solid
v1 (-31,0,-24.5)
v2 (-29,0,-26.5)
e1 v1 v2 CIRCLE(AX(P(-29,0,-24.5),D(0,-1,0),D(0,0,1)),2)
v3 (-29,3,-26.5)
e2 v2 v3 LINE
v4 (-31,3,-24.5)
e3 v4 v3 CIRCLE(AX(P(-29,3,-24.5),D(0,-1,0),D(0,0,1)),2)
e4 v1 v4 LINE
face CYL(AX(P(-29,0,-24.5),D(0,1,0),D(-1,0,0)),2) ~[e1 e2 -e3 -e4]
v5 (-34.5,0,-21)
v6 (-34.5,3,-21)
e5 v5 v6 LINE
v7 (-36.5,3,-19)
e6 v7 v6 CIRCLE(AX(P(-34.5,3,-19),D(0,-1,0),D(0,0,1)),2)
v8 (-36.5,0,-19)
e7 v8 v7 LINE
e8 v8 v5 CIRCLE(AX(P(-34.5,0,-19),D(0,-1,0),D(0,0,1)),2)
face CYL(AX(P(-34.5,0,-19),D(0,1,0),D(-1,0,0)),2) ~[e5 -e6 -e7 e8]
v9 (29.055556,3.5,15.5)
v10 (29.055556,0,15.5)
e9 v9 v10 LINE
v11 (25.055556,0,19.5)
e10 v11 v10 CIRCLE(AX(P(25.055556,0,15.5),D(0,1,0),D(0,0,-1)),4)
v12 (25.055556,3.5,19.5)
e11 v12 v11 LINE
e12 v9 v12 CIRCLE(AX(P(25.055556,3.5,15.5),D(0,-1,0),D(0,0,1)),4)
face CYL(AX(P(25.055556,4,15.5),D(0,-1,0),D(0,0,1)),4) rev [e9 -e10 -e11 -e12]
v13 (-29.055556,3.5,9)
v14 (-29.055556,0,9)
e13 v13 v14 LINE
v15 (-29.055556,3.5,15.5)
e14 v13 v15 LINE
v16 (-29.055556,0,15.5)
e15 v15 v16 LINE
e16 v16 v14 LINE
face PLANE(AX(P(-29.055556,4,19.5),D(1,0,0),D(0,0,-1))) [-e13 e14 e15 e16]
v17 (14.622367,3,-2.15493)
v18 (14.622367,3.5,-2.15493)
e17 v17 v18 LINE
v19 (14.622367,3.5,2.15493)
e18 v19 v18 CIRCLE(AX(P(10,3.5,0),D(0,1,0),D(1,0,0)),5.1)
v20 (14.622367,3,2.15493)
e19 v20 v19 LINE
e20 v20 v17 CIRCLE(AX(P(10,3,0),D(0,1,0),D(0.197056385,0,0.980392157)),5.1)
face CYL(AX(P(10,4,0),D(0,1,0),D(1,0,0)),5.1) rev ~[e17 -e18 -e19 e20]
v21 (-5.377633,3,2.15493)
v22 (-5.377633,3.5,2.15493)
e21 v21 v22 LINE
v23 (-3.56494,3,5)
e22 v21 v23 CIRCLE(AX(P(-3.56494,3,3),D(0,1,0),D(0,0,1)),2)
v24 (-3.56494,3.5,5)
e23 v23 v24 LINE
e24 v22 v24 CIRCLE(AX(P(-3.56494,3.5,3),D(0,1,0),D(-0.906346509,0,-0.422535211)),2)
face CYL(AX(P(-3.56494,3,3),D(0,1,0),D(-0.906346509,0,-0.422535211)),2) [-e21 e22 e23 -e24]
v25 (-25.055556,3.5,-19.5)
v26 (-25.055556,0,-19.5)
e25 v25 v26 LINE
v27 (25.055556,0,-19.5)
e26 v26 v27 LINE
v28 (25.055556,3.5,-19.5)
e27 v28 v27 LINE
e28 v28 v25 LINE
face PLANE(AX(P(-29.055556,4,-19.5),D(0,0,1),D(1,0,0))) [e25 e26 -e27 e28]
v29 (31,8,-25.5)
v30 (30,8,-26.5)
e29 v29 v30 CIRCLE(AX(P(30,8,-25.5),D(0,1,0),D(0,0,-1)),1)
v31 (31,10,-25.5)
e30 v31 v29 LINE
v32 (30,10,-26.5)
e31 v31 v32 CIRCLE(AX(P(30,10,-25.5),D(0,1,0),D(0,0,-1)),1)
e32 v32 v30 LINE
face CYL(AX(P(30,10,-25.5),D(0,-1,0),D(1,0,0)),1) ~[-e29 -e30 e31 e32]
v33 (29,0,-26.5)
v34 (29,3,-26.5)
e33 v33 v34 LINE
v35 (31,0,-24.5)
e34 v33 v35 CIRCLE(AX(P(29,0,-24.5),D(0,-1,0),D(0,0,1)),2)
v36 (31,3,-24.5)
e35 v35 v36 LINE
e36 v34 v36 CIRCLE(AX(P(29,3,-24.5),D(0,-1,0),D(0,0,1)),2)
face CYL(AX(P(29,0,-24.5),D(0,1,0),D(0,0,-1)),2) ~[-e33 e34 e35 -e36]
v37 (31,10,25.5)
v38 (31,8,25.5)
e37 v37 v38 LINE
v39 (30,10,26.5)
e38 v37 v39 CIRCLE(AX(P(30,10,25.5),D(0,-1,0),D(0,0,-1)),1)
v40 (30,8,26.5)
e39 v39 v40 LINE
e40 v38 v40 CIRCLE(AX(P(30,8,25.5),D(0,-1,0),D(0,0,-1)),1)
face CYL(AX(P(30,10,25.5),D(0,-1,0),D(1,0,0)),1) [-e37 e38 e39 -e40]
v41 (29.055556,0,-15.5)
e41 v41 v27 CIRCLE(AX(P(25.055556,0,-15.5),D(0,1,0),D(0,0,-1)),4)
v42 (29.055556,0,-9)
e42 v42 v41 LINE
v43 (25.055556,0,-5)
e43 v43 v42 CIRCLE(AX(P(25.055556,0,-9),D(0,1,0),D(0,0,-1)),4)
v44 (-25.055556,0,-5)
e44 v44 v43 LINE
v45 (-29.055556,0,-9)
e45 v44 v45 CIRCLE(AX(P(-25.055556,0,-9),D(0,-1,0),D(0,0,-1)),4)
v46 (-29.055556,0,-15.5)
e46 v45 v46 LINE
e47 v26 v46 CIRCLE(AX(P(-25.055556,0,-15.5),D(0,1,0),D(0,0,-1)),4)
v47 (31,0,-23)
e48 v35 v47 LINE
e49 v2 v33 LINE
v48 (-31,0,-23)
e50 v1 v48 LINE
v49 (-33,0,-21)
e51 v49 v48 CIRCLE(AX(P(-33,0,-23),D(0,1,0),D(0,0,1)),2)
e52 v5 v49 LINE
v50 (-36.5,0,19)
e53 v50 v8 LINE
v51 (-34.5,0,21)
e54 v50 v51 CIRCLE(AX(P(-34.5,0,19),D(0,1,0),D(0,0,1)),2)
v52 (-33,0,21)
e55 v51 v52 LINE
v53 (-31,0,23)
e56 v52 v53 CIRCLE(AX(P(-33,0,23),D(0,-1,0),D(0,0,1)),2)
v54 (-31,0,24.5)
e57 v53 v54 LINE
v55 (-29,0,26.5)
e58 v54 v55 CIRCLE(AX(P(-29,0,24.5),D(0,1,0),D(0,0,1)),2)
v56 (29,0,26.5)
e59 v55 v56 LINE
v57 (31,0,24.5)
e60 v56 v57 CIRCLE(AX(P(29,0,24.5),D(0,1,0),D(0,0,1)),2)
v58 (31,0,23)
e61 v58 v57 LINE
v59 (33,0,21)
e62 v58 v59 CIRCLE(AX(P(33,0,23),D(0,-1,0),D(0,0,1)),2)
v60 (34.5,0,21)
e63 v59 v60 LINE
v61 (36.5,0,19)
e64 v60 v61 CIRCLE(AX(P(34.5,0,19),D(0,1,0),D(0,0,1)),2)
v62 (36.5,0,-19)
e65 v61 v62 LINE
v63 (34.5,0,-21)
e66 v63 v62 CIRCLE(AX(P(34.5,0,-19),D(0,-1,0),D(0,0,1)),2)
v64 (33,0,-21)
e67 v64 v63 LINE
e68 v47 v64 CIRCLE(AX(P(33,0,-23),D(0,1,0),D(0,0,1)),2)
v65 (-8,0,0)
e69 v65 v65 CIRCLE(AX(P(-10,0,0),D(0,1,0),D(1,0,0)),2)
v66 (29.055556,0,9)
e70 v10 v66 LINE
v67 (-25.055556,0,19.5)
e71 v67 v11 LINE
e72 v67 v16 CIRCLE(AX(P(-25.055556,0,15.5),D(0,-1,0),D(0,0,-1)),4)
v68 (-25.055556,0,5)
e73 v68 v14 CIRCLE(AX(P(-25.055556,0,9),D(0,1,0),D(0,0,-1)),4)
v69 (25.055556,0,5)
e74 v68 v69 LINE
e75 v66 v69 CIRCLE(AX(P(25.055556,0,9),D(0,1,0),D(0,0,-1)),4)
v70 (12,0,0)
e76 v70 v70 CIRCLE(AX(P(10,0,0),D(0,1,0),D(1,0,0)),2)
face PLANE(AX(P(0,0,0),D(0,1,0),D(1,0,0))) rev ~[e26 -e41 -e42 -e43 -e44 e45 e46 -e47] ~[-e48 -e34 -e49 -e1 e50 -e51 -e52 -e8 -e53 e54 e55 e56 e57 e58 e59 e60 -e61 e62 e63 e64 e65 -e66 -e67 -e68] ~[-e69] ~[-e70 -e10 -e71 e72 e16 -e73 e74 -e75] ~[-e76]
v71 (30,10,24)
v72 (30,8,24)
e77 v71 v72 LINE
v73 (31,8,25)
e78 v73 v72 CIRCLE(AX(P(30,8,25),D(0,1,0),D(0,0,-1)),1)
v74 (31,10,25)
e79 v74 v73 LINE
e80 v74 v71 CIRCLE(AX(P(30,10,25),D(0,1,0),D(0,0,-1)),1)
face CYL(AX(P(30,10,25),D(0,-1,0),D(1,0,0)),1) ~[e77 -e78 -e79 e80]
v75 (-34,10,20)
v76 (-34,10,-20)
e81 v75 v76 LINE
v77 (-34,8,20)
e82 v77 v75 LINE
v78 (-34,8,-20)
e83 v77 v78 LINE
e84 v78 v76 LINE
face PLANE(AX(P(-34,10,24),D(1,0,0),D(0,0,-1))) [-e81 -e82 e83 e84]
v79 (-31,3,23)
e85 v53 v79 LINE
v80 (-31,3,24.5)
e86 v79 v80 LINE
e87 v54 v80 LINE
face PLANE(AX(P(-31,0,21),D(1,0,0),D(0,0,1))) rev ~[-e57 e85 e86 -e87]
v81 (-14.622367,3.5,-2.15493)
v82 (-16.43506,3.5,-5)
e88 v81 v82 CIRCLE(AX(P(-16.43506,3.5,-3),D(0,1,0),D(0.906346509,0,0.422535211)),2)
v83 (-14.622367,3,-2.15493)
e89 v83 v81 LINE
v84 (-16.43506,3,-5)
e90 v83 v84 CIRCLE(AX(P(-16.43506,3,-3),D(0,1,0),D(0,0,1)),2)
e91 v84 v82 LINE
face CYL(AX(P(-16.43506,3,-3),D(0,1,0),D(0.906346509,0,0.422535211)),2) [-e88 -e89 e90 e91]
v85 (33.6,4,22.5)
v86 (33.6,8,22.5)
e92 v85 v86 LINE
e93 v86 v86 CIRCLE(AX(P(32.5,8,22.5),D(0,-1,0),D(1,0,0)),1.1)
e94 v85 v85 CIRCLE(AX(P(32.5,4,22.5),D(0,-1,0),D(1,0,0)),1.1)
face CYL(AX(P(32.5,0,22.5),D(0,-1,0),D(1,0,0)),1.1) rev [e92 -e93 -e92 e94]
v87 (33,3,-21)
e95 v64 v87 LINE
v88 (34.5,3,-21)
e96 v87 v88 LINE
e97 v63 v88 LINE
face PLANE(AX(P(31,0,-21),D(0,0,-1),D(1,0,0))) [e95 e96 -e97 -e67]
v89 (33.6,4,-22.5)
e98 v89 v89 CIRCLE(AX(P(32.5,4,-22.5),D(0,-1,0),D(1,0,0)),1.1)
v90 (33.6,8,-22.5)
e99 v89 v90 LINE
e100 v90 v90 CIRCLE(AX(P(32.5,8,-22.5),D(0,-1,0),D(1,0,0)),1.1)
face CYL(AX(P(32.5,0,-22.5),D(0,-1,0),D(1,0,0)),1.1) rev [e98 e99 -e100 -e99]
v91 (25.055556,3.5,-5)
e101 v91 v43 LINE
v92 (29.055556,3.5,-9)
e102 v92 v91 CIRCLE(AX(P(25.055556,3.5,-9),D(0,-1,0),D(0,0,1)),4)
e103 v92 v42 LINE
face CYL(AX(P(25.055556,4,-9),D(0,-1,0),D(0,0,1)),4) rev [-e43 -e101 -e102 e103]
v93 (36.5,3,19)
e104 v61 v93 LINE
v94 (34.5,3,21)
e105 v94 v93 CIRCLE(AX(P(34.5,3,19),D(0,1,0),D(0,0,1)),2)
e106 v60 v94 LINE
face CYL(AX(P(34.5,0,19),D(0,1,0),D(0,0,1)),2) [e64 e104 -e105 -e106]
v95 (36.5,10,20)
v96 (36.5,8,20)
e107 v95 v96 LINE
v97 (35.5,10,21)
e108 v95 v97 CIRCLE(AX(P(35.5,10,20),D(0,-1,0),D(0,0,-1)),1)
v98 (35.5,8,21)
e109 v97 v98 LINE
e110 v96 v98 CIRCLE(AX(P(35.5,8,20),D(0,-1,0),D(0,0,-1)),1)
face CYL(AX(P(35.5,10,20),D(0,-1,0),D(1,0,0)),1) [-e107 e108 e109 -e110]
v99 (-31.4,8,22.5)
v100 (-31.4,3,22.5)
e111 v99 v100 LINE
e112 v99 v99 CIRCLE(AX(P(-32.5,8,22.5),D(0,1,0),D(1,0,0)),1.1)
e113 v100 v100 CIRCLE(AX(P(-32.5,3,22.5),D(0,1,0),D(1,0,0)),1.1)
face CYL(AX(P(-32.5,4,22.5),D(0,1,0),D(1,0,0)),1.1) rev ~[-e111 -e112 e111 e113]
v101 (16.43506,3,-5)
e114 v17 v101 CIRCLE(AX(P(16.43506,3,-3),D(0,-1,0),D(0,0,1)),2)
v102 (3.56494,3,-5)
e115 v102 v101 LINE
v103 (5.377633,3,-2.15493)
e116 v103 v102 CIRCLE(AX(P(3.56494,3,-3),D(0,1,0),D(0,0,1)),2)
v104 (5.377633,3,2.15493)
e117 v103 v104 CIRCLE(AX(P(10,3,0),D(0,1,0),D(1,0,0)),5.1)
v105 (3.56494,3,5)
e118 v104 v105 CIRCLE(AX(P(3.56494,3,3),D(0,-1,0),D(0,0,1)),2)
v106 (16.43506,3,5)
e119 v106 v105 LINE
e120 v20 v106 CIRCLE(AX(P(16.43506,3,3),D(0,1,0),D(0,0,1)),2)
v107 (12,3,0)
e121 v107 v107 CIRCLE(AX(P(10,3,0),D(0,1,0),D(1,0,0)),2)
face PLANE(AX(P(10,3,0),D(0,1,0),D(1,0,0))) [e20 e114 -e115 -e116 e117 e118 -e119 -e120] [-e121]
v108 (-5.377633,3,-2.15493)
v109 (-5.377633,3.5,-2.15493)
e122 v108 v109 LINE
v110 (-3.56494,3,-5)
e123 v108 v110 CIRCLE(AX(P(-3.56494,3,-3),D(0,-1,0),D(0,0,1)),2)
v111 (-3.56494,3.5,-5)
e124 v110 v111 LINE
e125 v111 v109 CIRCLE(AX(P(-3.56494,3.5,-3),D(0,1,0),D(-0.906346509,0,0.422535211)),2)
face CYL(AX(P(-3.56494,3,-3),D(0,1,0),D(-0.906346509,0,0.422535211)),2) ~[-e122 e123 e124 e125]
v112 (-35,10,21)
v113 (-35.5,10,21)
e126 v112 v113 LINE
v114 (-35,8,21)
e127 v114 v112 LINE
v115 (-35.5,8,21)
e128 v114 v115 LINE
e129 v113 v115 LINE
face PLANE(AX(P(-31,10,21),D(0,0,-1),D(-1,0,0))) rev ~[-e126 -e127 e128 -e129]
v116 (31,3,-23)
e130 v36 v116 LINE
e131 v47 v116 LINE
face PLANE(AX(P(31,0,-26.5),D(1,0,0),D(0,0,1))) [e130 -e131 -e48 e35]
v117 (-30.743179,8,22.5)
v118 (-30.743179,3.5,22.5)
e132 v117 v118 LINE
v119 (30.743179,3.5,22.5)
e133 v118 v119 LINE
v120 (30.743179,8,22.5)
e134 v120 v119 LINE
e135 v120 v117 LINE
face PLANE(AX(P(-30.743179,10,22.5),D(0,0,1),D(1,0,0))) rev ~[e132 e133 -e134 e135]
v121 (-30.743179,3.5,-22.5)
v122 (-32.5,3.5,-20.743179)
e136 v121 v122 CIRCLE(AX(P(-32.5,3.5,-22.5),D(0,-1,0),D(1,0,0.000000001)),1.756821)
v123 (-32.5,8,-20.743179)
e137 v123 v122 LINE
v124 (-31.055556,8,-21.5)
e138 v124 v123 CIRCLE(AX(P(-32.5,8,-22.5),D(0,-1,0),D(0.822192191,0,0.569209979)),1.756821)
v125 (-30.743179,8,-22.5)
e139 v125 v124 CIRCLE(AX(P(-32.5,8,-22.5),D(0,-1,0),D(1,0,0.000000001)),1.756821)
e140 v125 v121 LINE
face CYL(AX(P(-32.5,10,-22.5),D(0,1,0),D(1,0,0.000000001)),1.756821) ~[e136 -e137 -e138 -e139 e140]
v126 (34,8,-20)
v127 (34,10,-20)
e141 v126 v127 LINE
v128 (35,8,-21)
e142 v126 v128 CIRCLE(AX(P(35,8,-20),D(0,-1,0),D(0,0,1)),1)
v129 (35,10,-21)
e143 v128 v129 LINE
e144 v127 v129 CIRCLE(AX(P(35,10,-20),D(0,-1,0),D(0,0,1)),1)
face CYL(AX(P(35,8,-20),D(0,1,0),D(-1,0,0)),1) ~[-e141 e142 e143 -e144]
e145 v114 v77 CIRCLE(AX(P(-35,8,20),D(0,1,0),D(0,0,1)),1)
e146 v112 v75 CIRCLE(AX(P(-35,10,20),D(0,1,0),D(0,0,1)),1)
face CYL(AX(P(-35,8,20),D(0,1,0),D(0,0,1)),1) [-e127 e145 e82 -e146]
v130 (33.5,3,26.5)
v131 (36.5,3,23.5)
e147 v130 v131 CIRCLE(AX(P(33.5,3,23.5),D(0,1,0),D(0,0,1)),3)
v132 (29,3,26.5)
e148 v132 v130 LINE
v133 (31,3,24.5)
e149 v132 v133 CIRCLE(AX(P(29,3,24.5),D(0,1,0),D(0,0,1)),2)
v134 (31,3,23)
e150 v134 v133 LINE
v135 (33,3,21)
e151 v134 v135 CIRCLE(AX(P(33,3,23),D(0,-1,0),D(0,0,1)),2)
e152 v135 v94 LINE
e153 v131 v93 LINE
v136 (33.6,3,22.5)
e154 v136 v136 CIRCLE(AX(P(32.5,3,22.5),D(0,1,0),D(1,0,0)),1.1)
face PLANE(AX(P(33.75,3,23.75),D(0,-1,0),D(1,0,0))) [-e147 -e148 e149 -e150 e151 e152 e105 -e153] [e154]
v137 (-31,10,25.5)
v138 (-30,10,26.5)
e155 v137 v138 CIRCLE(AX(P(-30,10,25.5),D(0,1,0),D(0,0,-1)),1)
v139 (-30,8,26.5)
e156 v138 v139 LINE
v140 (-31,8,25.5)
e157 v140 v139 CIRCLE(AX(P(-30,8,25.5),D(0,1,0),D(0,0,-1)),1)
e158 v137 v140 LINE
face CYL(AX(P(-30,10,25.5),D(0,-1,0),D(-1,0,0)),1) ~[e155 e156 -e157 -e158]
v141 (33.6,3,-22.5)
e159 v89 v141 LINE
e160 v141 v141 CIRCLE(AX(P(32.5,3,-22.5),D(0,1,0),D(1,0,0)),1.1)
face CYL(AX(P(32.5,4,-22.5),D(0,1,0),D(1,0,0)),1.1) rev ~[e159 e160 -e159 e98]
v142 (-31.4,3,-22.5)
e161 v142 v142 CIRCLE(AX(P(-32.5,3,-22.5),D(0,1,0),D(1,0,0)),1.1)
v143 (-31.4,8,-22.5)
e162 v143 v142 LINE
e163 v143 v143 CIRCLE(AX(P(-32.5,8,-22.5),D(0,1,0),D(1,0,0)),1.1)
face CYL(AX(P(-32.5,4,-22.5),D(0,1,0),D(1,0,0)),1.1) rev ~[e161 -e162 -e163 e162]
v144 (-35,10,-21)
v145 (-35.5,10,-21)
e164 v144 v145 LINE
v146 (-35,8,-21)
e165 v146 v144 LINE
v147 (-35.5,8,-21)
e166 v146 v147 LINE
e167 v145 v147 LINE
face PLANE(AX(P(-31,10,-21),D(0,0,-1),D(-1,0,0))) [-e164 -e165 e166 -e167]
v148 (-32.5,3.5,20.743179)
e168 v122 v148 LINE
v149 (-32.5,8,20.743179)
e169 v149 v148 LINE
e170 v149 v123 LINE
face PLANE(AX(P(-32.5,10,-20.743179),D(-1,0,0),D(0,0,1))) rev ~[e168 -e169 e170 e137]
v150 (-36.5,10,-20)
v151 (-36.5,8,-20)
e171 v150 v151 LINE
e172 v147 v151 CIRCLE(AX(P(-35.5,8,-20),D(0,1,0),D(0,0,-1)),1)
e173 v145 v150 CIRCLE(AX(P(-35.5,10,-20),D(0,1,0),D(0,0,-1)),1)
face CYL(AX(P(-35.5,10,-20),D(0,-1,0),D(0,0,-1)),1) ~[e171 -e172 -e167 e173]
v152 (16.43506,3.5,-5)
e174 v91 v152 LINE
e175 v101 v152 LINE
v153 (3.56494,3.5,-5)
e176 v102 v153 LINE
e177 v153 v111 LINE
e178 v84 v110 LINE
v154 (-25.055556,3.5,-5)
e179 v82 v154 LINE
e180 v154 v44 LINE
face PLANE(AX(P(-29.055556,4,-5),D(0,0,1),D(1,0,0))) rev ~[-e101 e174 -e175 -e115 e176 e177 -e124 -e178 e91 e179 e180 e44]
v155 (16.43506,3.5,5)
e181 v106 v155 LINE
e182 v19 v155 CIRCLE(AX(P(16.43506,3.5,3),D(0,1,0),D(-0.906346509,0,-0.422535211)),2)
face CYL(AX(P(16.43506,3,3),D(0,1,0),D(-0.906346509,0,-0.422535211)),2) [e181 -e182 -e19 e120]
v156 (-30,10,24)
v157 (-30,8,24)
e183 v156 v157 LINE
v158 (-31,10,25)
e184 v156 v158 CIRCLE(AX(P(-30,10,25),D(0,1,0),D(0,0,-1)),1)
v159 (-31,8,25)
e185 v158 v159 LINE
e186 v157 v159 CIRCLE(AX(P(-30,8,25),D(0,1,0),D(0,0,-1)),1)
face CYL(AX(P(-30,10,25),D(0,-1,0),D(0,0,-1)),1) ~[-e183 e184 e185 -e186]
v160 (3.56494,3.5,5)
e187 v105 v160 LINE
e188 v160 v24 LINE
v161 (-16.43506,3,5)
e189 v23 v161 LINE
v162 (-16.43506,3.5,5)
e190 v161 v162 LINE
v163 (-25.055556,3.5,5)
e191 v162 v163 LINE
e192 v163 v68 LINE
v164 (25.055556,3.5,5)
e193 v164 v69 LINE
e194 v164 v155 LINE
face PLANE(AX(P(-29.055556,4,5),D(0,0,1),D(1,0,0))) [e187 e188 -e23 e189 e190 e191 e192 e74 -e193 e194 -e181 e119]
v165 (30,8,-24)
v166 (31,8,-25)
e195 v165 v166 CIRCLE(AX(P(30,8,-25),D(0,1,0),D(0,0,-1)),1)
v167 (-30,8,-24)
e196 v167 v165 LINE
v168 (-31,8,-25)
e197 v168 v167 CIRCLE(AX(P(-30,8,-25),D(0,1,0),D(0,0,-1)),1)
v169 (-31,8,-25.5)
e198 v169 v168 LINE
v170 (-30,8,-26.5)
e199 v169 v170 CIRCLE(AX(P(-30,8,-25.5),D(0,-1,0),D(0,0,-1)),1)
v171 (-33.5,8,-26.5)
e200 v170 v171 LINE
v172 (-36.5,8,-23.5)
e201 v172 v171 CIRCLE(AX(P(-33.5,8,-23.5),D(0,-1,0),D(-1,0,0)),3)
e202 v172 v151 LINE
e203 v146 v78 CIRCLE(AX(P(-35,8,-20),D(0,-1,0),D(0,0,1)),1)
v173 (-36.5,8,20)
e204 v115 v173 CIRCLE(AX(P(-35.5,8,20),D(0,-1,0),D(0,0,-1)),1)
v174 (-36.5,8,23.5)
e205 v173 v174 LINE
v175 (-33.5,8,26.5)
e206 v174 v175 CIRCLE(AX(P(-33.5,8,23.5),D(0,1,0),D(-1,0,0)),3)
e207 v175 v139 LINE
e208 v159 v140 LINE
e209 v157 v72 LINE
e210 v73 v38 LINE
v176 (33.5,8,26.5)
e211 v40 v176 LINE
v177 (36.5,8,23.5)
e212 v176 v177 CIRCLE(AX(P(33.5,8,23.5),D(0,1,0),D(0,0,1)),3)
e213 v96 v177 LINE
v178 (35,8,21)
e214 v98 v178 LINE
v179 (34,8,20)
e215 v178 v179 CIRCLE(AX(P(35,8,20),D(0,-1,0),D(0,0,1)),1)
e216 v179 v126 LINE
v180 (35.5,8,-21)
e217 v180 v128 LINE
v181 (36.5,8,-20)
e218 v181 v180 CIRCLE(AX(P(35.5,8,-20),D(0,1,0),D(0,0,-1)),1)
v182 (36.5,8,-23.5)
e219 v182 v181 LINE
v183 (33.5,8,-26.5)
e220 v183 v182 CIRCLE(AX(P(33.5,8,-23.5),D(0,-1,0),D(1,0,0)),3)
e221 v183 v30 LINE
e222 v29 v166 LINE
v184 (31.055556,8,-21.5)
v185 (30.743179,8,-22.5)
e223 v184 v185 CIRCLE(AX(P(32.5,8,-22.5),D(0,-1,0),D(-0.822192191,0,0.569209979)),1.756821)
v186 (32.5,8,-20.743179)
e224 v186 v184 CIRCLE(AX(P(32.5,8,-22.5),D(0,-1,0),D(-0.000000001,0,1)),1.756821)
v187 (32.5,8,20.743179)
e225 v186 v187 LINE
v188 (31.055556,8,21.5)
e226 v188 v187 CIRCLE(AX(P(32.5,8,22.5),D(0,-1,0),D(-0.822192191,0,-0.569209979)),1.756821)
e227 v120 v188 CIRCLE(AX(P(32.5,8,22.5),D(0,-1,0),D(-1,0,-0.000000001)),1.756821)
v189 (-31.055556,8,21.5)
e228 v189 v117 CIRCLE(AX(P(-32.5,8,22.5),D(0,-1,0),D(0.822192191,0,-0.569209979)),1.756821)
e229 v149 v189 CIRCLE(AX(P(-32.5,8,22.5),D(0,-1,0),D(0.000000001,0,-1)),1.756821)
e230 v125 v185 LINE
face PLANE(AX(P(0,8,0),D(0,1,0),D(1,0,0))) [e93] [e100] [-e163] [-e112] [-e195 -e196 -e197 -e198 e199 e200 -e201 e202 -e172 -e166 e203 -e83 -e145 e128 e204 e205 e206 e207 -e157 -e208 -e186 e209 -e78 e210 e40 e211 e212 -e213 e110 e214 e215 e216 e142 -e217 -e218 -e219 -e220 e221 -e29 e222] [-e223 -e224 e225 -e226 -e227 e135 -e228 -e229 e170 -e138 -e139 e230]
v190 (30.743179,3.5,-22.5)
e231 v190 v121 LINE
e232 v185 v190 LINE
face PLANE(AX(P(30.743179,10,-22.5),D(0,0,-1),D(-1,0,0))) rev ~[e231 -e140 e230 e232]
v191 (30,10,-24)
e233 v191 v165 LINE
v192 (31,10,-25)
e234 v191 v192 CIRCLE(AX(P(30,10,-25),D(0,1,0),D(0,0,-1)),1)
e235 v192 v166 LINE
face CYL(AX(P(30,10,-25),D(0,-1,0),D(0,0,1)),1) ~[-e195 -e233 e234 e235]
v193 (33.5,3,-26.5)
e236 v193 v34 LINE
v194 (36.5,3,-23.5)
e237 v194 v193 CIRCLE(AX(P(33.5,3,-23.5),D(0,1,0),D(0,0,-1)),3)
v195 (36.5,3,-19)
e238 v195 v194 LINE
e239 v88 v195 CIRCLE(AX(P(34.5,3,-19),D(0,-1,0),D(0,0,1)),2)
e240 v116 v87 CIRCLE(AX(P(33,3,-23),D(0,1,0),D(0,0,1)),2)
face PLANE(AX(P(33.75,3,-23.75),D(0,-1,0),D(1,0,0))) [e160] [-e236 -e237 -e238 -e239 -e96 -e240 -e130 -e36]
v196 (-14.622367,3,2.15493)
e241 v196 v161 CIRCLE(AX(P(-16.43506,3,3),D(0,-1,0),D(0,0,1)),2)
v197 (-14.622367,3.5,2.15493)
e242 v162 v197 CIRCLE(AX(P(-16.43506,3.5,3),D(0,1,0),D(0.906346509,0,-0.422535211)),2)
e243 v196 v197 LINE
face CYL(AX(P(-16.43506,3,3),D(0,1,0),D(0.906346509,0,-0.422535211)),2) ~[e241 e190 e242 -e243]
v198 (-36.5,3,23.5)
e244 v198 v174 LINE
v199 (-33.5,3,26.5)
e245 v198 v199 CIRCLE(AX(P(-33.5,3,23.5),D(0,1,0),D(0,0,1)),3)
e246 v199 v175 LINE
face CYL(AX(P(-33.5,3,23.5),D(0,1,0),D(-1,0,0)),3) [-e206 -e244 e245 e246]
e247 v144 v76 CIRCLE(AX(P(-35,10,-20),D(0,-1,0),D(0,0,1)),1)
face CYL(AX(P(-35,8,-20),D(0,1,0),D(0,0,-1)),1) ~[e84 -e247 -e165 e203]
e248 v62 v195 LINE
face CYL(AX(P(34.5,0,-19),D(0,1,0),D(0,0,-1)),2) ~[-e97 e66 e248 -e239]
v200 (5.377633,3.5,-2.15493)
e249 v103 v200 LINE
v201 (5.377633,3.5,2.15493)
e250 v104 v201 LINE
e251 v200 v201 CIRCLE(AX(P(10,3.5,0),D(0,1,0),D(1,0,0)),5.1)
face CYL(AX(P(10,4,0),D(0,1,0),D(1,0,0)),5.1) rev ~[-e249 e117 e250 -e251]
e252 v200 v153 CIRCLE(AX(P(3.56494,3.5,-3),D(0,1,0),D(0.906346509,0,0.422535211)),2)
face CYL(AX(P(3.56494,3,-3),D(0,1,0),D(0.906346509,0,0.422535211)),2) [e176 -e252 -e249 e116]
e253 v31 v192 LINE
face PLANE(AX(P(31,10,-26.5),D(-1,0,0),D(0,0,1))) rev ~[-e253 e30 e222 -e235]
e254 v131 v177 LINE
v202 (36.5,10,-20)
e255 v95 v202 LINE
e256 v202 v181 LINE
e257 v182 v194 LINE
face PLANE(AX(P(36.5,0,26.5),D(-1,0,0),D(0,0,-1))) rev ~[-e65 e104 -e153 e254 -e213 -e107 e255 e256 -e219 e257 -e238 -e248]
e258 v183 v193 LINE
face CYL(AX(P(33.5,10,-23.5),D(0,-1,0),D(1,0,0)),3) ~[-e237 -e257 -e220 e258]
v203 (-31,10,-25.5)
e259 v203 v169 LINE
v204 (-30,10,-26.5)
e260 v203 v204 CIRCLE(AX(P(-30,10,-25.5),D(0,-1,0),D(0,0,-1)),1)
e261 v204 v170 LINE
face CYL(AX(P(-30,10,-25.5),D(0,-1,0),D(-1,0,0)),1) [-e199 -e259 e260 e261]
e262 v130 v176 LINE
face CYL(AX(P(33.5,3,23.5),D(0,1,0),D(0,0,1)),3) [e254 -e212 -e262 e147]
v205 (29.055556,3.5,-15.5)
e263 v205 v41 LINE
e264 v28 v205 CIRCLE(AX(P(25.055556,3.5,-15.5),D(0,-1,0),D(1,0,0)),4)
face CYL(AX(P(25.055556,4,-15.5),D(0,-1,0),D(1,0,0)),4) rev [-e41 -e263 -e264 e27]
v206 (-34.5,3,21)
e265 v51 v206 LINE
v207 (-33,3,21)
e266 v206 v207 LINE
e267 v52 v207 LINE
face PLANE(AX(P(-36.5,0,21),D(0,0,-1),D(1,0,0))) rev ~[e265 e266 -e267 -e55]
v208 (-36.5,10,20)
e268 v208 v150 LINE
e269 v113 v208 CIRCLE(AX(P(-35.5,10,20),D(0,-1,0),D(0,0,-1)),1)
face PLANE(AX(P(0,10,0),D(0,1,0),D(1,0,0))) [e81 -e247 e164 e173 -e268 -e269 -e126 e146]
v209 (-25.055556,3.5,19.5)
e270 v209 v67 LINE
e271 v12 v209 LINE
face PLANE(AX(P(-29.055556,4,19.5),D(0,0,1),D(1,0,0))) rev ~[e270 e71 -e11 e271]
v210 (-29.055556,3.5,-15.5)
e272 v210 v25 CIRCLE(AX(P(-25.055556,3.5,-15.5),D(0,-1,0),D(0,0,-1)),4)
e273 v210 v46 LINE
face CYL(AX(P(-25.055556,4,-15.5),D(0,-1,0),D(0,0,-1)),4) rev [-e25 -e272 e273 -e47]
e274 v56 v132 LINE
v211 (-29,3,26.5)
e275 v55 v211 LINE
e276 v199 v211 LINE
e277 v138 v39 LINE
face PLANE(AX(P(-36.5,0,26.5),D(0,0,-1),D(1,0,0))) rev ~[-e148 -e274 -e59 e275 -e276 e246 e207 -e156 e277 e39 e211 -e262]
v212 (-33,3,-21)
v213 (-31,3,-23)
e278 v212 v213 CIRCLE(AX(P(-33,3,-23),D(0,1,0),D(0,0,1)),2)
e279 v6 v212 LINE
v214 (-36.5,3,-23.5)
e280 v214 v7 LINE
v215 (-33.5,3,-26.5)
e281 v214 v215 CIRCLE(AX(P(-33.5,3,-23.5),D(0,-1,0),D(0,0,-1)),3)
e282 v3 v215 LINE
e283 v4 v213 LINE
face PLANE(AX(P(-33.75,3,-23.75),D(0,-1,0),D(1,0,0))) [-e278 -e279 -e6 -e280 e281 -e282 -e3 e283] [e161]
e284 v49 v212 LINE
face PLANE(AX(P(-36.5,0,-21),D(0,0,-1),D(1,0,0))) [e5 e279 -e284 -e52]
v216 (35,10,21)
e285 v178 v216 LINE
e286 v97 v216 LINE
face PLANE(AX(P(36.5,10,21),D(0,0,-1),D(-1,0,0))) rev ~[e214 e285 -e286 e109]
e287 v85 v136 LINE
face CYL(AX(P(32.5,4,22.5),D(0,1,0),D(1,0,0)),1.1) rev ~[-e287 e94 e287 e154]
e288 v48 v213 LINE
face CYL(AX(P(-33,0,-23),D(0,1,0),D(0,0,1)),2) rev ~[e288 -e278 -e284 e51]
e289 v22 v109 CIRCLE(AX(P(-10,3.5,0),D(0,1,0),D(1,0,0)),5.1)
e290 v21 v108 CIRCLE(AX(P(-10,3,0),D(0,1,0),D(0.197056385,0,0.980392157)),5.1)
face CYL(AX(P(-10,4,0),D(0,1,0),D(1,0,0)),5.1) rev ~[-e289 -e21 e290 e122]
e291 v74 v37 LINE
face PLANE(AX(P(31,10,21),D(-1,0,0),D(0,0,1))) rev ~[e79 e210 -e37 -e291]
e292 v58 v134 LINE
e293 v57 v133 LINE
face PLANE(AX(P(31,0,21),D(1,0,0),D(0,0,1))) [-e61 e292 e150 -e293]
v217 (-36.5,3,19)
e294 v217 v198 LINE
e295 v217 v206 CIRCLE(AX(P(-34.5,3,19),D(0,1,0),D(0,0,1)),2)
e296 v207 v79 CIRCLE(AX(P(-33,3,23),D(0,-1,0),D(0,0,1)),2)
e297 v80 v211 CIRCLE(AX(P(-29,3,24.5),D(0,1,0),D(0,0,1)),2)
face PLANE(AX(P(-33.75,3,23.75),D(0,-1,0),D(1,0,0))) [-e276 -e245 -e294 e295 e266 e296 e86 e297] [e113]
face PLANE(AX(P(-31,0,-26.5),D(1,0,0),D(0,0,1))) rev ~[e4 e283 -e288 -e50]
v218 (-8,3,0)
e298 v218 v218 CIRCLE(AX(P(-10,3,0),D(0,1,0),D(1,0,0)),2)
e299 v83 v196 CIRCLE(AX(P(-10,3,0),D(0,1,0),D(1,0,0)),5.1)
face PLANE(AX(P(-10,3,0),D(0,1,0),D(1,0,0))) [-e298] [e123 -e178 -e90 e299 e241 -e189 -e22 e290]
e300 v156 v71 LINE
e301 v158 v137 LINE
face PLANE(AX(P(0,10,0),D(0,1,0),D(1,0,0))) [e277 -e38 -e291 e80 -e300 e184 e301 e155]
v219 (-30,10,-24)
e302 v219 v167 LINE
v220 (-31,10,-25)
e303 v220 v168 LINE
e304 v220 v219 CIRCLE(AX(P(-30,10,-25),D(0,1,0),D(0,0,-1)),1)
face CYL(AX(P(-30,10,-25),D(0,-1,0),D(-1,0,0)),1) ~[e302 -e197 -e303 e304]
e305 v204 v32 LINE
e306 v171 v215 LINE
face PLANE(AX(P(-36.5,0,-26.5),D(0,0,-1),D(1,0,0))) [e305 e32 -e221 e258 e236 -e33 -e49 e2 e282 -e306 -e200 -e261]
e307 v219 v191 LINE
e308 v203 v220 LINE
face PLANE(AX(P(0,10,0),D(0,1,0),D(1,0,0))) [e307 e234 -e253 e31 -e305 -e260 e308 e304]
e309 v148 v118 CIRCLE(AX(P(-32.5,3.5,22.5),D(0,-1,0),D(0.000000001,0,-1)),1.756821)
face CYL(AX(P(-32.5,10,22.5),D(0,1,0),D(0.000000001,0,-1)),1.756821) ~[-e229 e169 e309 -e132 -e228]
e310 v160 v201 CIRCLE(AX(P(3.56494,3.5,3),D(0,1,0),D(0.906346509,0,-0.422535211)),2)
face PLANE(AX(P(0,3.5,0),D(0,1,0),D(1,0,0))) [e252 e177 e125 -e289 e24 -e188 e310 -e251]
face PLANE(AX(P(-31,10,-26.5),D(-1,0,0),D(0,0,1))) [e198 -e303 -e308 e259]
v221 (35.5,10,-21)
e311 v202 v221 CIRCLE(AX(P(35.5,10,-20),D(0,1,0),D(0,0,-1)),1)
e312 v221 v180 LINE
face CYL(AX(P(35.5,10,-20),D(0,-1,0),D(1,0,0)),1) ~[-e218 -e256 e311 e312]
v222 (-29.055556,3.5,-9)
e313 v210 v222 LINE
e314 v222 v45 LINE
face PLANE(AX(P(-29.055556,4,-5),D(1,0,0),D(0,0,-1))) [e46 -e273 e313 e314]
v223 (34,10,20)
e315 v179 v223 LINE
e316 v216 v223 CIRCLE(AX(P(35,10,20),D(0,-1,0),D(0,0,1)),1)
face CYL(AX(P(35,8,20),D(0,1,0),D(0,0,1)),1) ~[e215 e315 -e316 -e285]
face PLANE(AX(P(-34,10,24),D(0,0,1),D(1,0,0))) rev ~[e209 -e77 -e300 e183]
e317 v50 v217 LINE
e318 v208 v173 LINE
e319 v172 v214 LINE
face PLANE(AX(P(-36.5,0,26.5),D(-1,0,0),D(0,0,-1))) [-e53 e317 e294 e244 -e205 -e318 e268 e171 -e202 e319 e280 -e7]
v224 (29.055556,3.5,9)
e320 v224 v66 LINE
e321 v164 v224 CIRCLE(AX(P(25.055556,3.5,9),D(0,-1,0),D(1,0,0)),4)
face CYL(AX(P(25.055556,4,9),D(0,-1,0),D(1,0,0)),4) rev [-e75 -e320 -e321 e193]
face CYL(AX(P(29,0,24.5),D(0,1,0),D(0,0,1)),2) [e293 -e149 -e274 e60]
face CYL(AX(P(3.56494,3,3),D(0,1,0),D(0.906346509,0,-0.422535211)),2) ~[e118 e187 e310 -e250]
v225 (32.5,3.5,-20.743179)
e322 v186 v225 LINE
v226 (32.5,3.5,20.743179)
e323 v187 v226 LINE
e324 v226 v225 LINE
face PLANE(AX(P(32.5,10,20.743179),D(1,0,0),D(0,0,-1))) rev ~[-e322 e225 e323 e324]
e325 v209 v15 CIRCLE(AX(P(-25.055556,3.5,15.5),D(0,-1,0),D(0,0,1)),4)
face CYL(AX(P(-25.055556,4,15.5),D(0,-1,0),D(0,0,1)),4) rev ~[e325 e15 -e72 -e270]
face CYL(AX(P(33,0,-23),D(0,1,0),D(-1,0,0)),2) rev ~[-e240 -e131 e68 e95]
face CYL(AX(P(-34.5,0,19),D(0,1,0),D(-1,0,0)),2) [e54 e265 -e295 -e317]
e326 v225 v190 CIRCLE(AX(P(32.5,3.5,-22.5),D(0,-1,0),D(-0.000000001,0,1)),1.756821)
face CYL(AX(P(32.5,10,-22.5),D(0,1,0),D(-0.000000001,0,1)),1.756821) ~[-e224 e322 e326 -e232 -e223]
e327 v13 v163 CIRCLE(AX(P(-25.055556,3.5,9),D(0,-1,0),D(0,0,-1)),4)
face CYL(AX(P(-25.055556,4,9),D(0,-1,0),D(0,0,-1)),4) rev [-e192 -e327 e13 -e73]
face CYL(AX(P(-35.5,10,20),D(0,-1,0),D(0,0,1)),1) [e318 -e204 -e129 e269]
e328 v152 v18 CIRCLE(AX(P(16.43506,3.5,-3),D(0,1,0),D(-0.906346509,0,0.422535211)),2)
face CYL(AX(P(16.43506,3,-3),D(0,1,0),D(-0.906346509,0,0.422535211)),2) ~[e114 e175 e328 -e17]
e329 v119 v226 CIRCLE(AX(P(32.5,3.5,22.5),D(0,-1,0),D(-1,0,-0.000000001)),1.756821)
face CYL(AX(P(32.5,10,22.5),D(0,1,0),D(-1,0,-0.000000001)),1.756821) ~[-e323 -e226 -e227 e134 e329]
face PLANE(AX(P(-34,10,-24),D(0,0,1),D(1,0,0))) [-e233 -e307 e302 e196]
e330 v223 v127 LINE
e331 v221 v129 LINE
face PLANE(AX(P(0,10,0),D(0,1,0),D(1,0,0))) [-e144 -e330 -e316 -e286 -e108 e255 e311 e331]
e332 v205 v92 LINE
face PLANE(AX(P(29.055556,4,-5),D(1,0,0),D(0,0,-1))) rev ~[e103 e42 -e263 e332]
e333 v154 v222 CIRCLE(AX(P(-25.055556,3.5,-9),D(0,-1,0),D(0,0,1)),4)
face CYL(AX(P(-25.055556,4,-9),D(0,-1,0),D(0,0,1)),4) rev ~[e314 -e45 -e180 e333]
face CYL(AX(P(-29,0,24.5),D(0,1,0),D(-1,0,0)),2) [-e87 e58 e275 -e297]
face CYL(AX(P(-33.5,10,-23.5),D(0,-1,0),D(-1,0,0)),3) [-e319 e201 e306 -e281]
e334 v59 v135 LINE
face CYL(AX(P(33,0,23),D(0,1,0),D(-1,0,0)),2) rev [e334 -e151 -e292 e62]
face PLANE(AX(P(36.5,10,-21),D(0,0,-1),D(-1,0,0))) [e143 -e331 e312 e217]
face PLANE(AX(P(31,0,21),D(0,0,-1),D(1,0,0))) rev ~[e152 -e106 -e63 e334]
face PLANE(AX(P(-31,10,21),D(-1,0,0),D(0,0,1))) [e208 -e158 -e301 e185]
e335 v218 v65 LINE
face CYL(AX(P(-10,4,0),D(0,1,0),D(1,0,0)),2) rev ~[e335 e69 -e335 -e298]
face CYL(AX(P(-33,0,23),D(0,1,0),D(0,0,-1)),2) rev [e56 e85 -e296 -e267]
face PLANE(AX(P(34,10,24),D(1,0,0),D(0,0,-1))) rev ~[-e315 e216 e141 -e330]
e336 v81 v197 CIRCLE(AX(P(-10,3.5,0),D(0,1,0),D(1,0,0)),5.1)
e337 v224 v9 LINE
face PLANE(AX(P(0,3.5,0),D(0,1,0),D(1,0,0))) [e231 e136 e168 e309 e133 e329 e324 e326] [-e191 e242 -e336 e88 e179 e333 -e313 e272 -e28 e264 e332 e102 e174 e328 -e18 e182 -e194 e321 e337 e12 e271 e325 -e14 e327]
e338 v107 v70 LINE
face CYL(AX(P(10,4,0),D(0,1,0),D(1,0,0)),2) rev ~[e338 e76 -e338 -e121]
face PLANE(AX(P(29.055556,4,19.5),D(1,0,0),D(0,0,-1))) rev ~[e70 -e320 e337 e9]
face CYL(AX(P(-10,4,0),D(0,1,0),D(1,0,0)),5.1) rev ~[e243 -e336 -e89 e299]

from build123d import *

# Parameters (mm, degrees)
ESQUISSE1_W             = 73
ESQUISSE1_H             = 53
ESQUISSE1_R             = 1.1
ESQUISSE1_W_2           = 62.111111112
ESQUISSE1_H_2           = 43
BOSS_EXTRU_1_DEPTH      = 10
ESQUISSE2_W             = 73
ESQUISSE2_H             = 53
BOSS_EXTRU_2_DEPTH      = 4
ESQUISSE3_W             = 5.5
ESQUISSE3_H             = 5.5
ENL_V_MAT_EXTRU_1_DEPTH = 3
ESQUISSE4_R             = 1.1
ENL_V_MAT_EXTRU_2_DEPTH = 5
CONG_3_R                = 3
ESQUISSE5_R             = 2
ESQUISSE5_W             = 58.111111112
ESQUISSE5_H             = 14.5
ENL_V_MAT_EXTRU_3_DEPTH = 5
CONG_4_R                = 4
CONG_5_R                = 2
ESQUISSE6_R             = 5.1
ENL_V_MAT_EXTRU_6_DEPTH = 1
CONG_6_R                = 2
ENL_V_MAT_EXTRU_7_DEPTH = 6.5
ESQUISSE8_W             = 68
ESQUISSE8_H             = 48
ENL_V_MAT_EXTRU_8_DEPTH = 2
ESQUISSE9_W             = 5.5
ESQUISSE9_H             = 5.5
ENL_V_MAT_EXTRU_9_DEPTH = 2
CONG_8_R                = 1


with BuildPart() as part:
    # Esquisse1 → Boss.-Extru.1 (new body)
    with BuildSketch(Plane(origin=(0, 0, 0), x_dir=(1, 0, 0), z_dir=(0, 1, 0))):
        Rectangle(ESQUISSE1_W, ESQUISSE1_H)
        with Locations((-32.5, 22.5)):
            Circle(ESQUISSE1_R, mode=Mode.SUBTRACT)
        with Locations((32.5, 22.5)):
            Circle(ESQUISSE1_R, mode=Mode.SUBTRACT)
        with Locations((32.5, -22.5)):
            Circle(ESQUISSE1_R, mode=Mode.SUBTRACT)
        with Locations((-32.5, -22.5)):
            Circle(ESQUISSE1_R, mode=Mode.SUBTRACT)
        Rectangle(ESQUISSE1_W_2, ESQUISSE1_H_2, mode=Mode.SUBTRACT)
    extrude(amount=BOSS_EXTRU_1_DEPTH)

    # Esquisse2 → Boss.-Extru.2 (add)
    with BuildSketch(Plane.XZ):
        Rectangle(ESQUISSE2_W, ESQUISSE2_H)
    extrude(amount=-BOSS_EXTRU_2_DEPTH)

    # Esquisse3 → Enlèv. mat.-Extru.1 (cut)
    with BuildSketch(Plane.XZ):
        with Locations((-33.75, 23.75)):
            Rectangle(ESQUISSE3_W, ESQUISSE3_H)
        with Locations((33.75, 23.75)):
            Rectangle(ESQUISSE3_W, ESQUISSE3_H)
        with Locations((33.75, -23.75)):
            Rectangle(ESQUISSE3_W, ESQUISSE3_H)
        with Locations((-33.75, -23.75)):
            Rectangle(ESQUISSE3_W, ESQUISSE3_H)
    extrude(amount=-ENL_V_MAT_EXTRU_1_DEPTH, mode=Mode.SUBTRACT)

    # Esquisse4 → Enlèv. mat.-Extru.2 (cut)
    with BuildSketch(Plane(origin=(0, 4, 0), x_dir=(1, 0, 0), z_dir=(0, 1, 0))):
        with Locations((-32.5, 22.5)):
            Circle(ESQUISSE4_R)
        with Locations((32.5, 22.5)):
            Circle(ESQUISSE4_R)
        with Locations((32.5, -22.5)):
            Circle(ESQUISSE4_R)
        with Locations((-32.5, -22.5)):
            Circle(ESQUISSE4_R)
    extrude(amount=-ENL_V_MAT_EXTRU_2_DEPTH, mode=Mode.SUBTRACT)

    # Congé3
    cong_3_edges = [part.edges().sort_by_distance(p)[0] for p in [
        (36.5, 6.5, 26.5),
        (-36.5, 6.5, 26.5),
        (-36.5, 6.5, -26.5),
        (36.5, 6.5, -26.5),
    ]]
    fillet(cong_3_edges, radius=CONG_3_R)

    # Esquisse5 → Enlèv. mat.-Extru.3 (cut)
    with BuildSketch(Plane(origin=(0, 4, 0), x_dir=(1, 0, 0), z_dir=(0, 1, 0))):
        with Locations((-10, 0)):
            Circle(ESQUISSE5_R)
        with Locations((10, 0)):
            Circle(ESQUISSE5_R)
        with Locations((0, 12.25)):
            Rectangle(ESQUISSE5_W, ESQUISSE5_H)
        with Locations((0, -12.25)):
            Rectangle(ESQUISSE5_W, ESQUISSE5_H)
    extrude(amount=-ENL_V_MAT_EXTRU_3_DEPTH, mode=Mode.SUBTRACT)

    # Congé4
    cong_4_edges = [part.edges().sort_by_distance(p)[0] for p in [
        (29.055555556, 2, 5),
        (29.055555556, 2, 19.5),
        (-29.055555556, 2, 19.5),
        (-29.055555556, 2, 5),
        (29.055555556, 2, -19.5),
        (29.055555556, 2, -5),
        (-29.055555556, 2, -5),
        (-29.055555556, 2, -19.5),
    ]]
    fillet(cong_4_edges, radius=CONG_4_R)

    # Congé5
    cong_5_edges = [part.edges().sort_by_distance(p)[0] for p in [
        (36.5, 1.5, -21),
        (31, 1.5, -26.5),
        (31, 1.5, -21),
        (36.5, 1.5, 21),
        (31, 1.5, 21),
        (31, 1.5, 26.5),
        (-36.5, 1.5, 21),
        (-31, 1.5, 26.5),
        (-31, 1.5, 21),
        (-36.5, 1.5, -21),
        (-31, 1.5, -21),
        (-31, 1.5, -26.5),
    ]]
    fillet(cong_5_edges, radius=CONG_5_R)

    # Esquisse6 → Enlèv. mat.-Extru.6 (cut)
    with BuildSketch(Plane(origin=(0, 4, 0), x_dir=(1, 0, 0), z_dir=(0, 1, 0))):
        with Locations((-10, 0)):
            Circle(ESQUISSE6_R)
        with Locations((10, 0)):
            Circle(ESQUISSE6_R)
    extrude(amount=-ENL_V_MAT_EXTRU_6_DEPTH, mode=Mode.SUBTRACT)

    # Congé6
    cong_6_edges = [part.edges().sort_by_distance(p)[0] for p in [
        (11.004987562, 3.5, 5),
        (8.995012438, 3.5, 5),
        (-8.995012438, 3.5, 5),
        (-11.004987562, 3.5, 5),
        (-8.995012438, 3.5, -5),
        (-11.004987562, 3.5, -5),
        (11.004987562, 3.5, -5),
        (8.995012438, 3.5, -5),
    ]]
    fillet(cong_6_edges, radius=CONG_6_R)

    # Esquisse7 → Enlèv. mat.-Extru.7 (cut)
    with BuildSketch(Plane(origin=(0, 10, 0), x_dir=(1, 0, 0), z_dir=(0, 1, 0))):
        with BuildLine():
            Line((-32.5, 20.743179078), (-32.5, -20.743179078))
            ThreePointArc((-32.5, -20.743179078), (-31.257740013, -21.257740013), (-30.743179078, -22.5))
            Line((-30.743179078, -22.5), (30.743179078, -22.5))
            ThreePointArc((30.743179078, -22.5), (31.257740013, -21.257740013), (32.5, -20.743179078))
            Line((32.5, -20.743179078), (32.5, 20.743179078))
            ThreePointArc((32.5, 20.743179078), (31.257740013, 21.257740013), (30.743179078, 22.5))
            Line((30.743179078, 22.5), (-30.743179078, 22.5))
            ThreePointArc((-30.743179078, 22.5), (-31.257740013, 21.257740013), (-32.5, 20.743179078))
        make_face()
    extrude(amount=-ENL_V_MAT_EXTRU_7_DEPTH, mode=Mode.SUBTRACT)

    # Esquisse8 → Enlèv. mat.-Extru.8 (cut)
    with BuildSketch(Plane(origin=(0, 10, 0), x_dir=(1, 0, 0), z_dir=(0, 1, 0))):
        Rectangle(ESQUISSE8_W, ESQUISSE8_H)
    extrude(amount=-ENL_V_MAT_EXTRU_8_DEPTH, mode=Mode.SUBTRACT)

    # Esquisse9 → Enlèv. mat.-Extru.9 (cut)
    with BuildSketch(Plane(origin=(0, 10, 0), x_dir=(-1, 0, 0), z_dir=(0, 1, 0))):
        with Locations((-33.75, 23.75)):
            Rectangle(ESQUISSE9_W, ESQUISSE9_H)
        with Locations((33.75, 23.75)):
            Rectangle(ESQUISSE9_W, ESQUISSE9_H)
        with Locations((33.75, -23.75)):
            Rectangle(ESQUISSE9_W, ESQUISSE9_H)
        with Locations((-33.75, -23.75)):
            Rectangle(ESQUISSE9_W, ESQUISSE9_H)
    extrude(amount=-ENL_V_MAT_EXTRU_9_DEPTH, mode=Mode.SUBTRACT)

    # Congé8
    cong_8_edges = [part.edges().sort_by_distance(p)[0] for p in [
        (-31, 9, -24),
        (31, 9, -24),
        (-34, 9, 21),
        (-34, 9, -21),
        (31, 9, 24),
        (-31, 9, 24),
        (34, 9, 21),
        (34, 9, -21),
        (36.5, 9, -21),
        (31, 9, -26.5),
        (-31, 9, -26.5),
        (-36.5, 9, -21),
        (-36.5, 9, 21),
        (-31, 9, 26.5),
        (31, 9, 26.5),
        (36.5, 9, 21),
    ]]
    fillet(cong_8_edges, radius=CONG_8_R)


solid = part.part
